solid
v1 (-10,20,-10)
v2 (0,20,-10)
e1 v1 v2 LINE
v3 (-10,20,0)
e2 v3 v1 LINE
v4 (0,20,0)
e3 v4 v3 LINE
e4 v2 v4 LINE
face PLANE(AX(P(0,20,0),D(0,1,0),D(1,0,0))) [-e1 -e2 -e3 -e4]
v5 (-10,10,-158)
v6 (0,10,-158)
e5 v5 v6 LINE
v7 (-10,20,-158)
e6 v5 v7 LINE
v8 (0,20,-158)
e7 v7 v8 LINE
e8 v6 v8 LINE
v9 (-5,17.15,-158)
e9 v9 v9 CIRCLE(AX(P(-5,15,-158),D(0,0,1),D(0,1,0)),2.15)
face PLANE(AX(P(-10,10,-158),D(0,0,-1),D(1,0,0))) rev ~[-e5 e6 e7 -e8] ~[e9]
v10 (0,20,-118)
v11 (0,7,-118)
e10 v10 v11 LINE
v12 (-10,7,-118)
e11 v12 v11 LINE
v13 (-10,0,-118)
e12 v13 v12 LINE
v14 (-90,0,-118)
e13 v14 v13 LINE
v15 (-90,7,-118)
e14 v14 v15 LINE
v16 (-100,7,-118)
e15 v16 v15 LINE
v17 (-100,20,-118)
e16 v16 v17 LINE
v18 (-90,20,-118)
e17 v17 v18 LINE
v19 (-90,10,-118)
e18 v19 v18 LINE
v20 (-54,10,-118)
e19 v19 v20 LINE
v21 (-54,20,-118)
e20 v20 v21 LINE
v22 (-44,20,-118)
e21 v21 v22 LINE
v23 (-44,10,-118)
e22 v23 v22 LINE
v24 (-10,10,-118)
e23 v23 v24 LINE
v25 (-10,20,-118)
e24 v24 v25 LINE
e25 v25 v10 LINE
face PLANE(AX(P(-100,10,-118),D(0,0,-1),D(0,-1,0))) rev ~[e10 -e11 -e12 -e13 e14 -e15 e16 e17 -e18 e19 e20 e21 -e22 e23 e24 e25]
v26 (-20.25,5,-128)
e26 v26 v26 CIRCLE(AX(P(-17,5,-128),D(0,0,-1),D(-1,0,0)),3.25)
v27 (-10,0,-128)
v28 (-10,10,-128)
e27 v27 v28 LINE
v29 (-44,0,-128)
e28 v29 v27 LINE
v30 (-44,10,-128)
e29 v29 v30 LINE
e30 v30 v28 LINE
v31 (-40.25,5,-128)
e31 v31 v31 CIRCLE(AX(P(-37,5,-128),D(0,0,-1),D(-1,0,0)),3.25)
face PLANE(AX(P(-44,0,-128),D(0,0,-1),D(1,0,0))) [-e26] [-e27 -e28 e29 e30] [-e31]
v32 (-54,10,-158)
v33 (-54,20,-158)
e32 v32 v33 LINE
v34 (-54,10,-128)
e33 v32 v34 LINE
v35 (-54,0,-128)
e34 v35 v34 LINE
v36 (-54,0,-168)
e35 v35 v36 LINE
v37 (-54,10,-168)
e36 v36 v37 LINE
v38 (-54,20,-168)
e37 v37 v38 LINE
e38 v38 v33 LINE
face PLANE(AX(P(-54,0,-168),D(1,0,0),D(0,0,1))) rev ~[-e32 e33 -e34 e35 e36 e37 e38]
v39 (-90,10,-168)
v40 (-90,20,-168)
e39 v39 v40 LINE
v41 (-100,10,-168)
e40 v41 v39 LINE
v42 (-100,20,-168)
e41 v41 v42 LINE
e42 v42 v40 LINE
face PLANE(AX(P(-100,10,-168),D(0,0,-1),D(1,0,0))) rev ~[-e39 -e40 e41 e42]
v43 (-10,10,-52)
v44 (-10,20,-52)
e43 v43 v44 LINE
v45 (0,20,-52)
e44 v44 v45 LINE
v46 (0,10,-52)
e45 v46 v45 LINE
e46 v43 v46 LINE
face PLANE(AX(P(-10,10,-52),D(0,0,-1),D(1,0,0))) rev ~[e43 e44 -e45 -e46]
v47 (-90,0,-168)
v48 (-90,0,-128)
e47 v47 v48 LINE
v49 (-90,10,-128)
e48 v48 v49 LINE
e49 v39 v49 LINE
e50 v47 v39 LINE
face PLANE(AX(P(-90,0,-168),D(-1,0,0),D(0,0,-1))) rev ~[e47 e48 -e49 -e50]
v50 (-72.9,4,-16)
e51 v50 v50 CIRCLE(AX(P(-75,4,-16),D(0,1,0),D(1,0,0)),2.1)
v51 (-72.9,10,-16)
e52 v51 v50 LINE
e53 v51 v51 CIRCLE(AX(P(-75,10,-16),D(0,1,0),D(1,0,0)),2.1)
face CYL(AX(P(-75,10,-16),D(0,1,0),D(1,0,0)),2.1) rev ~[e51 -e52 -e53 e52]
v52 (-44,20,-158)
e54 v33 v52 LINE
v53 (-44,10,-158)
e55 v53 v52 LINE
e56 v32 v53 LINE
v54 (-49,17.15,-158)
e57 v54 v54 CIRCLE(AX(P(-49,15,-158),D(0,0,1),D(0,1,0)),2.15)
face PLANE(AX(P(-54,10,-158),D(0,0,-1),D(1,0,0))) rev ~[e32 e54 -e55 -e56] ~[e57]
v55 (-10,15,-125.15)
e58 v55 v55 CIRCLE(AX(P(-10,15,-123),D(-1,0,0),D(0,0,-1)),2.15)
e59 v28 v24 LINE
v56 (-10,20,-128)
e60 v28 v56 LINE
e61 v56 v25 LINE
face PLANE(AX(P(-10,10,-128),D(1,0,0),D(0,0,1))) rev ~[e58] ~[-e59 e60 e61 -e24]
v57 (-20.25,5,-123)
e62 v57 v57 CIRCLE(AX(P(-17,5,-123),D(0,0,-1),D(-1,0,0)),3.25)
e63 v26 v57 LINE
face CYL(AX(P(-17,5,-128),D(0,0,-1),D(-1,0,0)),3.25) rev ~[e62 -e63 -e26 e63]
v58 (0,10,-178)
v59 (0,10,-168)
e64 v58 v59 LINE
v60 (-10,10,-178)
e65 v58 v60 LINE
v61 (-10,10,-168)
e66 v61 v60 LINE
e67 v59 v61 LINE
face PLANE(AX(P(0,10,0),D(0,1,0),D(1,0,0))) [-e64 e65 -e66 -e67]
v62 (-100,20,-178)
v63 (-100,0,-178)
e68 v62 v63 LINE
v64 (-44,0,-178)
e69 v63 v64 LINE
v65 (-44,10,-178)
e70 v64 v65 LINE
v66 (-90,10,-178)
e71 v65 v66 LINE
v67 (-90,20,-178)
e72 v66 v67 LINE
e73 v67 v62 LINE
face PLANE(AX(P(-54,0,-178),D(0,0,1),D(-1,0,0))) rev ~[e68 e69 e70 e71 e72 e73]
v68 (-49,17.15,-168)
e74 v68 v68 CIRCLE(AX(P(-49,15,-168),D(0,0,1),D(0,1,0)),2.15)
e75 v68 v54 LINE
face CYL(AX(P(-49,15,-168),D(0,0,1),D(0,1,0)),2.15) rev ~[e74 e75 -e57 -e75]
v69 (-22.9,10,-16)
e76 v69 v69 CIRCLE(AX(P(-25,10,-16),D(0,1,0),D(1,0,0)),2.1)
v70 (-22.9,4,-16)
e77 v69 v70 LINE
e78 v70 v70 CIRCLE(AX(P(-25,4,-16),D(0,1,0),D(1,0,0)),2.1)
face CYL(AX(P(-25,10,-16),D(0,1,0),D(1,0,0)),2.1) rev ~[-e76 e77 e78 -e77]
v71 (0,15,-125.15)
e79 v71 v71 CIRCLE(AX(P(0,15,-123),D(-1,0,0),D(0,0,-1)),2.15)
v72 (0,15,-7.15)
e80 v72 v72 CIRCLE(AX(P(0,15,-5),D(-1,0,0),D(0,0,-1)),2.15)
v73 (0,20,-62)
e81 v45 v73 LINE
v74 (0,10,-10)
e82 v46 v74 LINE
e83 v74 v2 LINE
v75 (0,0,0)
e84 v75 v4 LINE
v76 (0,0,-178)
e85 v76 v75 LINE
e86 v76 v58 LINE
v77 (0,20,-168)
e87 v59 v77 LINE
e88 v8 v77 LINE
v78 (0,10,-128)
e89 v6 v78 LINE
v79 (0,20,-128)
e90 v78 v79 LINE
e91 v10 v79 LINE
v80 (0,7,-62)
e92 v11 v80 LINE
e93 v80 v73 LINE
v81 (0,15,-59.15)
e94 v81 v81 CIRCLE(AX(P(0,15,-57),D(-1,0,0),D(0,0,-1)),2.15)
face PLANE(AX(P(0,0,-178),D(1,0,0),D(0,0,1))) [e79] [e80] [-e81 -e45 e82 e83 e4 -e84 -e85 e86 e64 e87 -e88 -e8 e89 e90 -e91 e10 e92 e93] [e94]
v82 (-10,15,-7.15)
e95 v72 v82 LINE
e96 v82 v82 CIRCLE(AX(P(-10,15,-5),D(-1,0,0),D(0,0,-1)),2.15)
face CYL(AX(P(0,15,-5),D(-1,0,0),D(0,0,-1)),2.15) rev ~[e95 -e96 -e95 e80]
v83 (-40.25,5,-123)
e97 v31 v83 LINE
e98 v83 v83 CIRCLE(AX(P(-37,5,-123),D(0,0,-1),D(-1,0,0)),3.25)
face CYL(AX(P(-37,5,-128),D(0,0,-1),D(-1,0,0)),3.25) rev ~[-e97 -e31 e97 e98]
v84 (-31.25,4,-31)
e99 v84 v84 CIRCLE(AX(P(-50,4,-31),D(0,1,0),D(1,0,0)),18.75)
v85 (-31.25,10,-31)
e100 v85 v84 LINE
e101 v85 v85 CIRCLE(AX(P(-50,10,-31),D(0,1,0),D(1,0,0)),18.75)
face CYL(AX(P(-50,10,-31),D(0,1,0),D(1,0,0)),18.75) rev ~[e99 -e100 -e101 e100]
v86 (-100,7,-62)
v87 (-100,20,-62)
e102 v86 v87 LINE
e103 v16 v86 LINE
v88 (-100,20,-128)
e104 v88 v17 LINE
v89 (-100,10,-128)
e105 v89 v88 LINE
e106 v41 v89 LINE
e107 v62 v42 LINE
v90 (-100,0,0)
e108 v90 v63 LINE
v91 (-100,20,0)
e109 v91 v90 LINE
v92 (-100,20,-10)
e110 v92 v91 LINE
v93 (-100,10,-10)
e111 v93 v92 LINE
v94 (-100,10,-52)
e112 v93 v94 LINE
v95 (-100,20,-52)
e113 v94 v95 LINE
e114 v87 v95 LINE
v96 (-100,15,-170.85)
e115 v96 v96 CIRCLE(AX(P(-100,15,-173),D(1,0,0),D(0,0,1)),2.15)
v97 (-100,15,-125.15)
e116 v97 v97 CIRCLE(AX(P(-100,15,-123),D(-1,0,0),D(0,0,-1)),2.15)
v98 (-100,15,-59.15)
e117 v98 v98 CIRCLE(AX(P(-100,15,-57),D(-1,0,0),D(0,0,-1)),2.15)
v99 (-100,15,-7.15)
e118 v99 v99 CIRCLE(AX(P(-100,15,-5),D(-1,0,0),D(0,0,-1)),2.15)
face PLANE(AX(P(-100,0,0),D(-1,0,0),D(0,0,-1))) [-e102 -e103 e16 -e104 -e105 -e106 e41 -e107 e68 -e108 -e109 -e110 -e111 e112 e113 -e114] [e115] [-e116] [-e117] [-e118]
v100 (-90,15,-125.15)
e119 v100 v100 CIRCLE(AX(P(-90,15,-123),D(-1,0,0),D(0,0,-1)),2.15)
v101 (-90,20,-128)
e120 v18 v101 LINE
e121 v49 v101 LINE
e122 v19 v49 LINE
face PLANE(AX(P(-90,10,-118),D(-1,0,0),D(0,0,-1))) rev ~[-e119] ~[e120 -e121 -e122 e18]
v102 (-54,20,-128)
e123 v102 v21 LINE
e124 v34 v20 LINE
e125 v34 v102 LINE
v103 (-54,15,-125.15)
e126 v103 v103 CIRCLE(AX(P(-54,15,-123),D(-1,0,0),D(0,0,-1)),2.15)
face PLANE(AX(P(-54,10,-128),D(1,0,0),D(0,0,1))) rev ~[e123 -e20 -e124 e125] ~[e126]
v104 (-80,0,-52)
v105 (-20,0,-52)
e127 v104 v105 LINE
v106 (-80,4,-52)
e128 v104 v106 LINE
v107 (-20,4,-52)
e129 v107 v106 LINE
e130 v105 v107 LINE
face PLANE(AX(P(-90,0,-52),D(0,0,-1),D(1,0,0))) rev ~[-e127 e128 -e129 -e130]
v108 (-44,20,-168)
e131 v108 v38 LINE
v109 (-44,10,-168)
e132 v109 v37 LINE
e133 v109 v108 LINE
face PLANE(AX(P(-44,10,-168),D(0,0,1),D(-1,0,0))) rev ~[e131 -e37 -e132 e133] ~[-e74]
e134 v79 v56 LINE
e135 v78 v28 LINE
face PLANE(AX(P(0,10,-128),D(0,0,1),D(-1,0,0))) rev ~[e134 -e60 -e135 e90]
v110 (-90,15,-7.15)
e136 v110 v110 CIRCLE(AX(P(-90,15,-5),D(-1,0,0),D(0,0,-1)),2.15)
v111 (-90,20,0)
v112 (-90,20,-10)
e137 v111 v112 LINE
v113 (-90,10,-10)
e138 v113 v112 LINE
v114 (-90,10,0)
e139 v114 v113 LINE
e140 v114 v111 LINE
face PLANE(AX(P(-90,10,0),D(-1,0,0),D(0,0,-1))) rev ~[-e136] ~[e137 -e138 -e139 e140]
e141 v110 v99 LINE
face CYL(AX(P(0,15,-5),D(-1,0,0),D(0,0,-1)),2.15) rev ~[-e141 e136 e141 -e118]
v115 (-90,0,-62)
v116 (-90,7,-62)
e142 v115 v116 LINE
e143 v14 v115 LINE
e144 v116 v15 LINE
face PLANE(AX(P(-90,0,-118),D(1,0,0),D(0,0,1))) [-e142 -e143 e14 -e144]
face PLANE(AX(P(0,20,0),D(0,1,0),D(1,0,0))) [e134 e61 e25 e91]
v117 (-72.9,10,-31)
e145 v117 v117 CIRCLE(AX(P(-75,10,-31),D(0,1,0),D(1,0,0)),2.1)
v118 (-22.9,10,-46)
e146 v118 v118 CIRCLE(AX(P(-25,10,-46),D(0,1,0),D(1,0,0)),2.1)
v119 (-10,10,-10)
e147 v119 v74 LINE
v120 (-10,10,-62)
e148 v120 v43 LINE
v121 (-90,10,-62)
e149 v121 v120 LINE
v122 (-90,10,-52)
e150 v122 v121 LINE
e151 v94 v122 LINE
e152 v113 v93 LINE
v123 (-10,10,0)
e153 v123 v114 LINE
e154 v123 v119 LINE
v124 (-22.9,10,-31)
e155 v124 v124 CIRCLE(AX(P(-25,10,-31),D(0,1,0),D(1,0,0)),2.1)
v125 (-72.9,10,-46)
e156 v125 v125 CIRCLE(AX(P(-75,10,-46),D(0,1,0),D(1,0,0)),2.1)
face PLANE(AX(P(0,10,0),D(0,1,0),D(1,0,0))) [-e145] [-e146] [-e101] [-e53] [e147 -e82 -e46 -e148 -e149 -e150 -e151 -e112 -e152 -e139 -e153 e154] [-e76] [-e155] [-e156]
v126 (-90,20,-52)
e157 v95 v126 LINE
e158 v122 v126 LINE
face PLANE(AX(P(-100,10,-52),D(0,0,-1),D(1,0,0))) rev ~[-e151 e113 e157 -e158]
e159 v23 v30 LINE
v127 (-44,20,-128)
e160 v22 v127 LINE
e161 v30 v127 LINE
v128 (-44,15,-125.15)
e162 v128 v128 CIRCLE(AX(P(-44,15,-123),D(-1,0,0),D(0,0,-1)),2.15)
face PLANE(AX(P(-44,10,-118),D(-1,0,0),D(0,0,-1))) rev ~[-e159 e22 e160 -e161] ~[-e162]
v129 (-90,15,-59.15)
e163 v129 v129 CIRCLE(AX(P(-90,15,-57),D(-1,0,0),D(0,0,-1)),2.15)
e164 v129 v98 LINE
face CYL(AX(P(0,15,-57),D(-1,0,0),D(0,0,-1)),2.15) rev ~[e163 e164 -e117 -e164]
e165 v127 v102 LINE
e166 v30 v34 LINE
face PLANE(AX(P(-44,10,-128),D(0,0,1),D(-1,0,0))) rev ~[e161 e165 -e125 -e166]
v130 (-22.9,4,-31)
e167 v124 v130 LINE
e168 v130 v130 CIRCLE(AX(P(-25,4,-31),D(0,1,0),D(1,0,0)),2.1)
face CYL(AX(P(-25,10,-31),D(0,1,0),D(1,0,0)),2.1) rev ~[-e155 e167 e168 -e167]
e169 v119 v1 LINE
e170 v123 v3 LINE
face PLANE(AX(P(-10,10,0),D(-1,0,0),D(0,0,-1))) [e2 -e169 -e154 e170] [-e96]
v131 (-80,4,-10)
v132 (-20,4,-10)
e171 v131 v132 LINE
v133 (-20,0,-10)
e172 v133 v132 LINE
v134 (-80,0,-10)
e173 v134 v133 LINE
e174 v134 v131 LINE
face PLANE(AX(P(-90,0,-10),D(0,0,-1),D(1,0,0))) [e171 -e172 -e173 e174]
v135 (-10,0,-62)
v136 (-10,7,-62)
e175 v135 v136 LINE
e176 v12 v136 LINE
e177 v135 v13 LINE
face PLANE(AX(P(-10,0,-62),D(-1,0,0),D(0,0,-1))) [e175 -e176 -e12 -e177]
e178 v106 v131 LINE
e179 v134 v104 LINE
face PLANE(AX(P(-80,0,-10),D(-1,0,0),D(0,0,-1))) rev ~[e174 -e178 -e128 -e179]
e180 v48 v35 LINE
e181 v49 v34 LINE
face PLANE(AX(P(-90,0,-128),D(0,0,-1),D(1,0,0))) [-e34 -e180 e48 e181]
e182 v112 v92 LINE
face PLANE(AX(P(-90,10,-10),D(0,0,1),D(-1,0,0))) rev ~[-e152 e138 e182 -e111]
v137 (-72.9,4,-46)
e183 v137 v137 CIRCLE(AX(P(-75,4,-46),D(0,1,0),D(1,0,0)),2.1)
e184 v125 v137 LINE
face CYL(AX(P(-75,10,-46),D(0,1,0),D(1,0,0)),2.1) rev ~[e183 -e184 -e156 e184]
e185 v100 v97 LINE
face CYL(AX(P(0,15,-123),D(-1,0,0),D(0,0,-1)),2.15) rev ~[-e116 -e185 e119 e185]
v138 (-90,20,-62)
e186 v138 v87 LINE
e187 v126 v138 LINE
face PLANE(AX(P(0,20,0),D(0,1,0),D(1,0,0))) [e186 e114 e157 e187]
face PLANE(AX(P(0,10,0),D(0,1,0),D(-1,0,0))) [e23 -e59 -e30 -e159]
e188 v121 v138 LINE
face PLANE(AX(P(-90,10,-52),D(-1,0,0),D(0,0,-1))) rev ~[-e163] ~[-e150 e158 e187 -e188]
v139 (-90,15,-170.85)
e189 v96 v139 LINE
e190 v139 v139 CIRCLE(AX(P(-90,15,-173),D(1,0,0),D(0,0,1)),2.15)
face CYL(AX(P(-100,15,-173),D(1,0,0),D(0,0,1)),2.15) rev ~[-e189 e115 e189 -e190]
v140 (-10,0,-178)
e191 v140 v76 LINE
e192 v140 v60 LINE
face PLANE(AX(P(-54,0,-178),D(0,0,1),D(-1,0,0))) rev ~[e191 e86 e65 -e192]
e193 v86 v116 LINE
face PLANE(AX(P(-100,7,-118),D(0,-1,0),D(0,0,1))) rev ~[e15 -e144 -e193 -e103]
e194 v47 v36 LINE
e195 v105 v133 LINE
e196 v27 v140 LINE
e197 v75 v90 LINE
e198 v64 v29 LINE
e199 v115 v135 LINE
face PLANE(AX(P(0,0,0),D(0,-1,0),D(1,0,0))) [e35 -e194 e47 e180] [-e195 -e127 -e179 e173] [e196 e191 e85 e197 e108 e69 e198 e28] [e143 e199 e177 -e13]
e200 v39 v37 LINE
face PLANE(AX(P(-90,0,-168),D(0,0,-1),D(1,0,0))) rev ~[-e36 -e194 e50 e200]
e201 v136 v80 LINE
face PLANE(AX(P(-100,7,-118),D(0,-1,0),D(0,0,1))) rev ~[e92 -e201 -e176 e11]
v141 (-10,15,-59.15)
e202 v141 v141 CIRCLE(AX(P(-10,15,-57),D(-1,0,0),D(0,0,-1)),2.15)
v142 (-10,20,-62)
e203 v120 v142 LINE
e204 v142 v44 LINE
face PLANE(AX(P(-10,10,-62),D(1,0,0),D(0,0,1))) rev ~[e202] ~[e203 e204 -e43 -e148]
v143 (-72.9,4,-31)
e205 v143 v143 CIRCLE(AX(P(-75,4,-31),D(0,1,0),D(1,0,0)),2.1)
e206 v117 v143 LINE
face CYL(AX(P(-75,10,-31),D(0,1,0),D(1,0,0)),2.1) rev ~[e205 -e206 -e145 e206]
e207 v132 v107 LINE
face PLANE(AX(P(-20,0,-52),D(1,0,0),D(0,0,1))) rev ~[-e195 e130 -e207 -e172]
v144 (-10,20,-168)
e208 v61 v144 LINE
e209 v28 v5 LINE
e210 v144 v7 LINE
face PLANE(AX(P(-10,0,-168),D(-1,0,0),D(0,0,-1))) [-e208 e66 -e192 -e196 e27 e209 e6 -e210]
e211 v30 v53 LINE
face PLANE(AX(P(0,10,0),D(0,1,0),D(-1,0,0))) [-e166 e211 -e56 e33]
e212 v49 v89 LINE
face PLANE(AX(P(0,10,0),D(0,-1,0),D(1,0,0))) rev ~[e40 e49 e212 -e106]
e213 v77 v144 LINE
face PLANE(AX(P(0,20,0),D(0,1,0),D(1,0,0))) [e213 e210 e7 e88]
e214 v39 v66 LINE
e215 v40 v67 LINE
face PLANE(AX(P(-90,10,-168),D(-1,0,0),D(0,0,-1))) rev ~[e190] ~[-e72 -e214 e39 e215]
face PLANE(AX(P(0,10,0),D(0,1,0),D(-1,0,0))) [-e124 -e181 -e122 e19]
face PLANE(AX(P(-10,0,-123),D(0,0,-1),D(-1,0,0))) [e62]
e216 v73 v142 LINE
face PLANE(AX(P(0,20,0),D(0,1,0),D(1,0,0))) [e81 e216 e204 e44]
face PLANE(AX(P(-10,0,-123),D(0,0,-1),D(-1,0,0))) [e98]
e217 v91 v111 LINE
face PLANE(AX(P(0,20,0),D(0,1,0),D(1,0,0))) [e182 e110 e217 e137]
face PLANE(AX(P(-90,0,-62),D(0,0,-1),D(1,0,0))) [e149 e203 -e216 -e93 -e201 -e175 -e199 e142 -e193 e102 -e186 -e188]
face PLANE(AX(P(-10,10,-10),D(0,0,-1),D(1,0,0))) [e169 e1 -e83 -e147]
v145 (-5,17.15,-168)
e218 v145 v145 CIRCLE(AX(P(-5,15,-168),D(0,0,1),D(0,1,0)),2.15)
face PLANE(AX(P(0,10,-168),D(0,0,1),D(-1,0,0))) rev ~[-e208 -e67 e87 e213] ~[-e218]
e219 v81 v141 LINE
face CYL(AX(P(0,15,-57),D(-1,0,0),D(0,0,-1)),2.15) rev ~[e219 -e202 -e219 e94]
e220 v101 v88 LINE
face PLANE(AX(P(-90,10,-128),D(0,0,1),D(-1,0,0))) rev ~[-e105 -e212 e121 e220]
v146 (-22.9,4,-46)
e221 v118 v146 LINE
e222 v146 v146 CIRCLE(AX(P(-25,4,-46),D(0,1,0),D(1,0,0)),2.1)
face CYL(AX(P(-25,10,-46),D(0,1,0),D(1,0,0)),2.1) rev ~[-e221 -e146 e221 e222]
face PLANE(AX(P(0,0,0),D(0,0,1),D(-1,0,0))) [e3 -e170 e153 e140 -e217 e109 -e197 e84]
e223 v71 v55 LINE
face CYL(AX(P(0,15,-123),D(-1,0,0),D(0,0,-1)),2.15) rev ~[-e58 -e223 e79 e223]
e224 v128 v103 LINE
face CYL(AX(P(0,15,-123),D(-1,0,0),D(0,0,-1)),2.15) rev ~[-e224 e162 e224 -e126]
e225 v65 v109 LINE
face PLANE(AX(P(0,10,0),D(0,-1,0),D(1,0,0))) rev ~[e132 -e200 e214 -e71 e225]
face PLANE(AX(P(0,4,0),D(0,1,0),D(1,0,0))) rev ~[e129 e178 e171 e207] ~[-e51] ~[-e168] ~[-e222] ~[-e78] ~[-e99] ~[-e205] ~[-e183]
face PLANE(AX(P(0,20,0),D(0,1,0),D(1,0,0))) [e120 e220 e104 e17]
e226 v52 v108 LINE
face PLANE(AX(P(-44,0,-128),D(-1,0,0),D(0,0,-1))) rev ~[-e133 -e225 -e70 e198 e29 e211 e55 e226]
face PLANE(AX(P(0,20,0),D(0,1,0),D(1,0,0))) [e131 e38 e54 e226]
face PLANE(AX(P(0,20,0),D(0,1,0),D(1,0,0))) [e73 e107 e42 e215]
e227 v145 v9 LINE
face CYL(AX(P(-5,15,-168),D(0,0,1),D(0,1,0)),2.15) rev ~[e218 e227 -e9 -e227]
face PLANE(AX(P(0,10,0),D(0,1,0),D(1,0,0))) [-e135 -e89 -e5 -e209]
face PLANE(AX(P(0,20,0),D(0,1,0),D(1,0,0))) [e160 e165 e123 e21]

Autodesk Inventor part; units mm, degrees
ref_plane "YZ Plane" through (0, 0, 0) normal (1, 0, 0) x (0, 1, 0)
ref_plane "XZ Plane" through (0, 0, 0) normal (0, 1, 0) x (-1, 0, 0)
ref_plane "XY Plane" through (0, 0, 0) normal (0, 0, 1) x (1, 0, 0)
sketch "Sketch1" plane through (0, 0, 0) normal (0, 1, 0) x (-1, 0, 0)
  line L0 (0, 0) -> (100, 0)
  line L1 (100, 0) -> (100, -178)
  line L2 (0, -178) -> (0, 0)
  line L3 (90, -10) -> (10, -10)
  line L4 (90, -52) -> (10, -52)
  line L5 (90, -62) -> (10, -62)
  line L6 (90, -52) -> (90, -10)
  line L7 (10, -10) -> (10, -52)
  line L8 (90, -118) -> (10, -118)
  line L9 (90, -168) -> (90, -128)
  line L10 (90, -118) -> (90, -62)
  line L11 (10, -62) -> (10, -118)
  line L12 (10, -128) -> (10, -168)
  line L13 (100, -178) -> (90, -178)
  line L14 (10, -178) -> (0, -178)
  line L15 (90, -168) -> (90, -178)
  line L16 (10, -168) -> (44, -168)
  line L17 (54, -168) -> (54, -178)
  line L18 (54, -178) -> (10, -178)
  line L19 (54, -168) -> (54, -128)
  line L20 (44, -128) -> (44, -168)
  line L21 (90, -128) -> (54, -128)
  line L22 (44, -128) -> (10, -128)
  dimension "thickness" = 10
  dimension "d3" = 10
  dimension "d4" = 10
  dimension "d8" = 10
  dimension "motor" = 42
  dimension "d10" = 10
  dimension "d11" = 10
  dimension "d27" = 10
  dimension "batterywidth" = 56
  dimension "d31" = 80
  dimension "suspensionWidth" = 40
  dimension "d33" = 10
  dimension "d34" = 10
  dimension "d36" = 10
  dimension "d38" = 10
  dimension "d39" = 40
  dimension "d40" = 40
  dimension "d41" = 34
  dimension "d215" = 36
extrude "Extrusion2" add sketch "Sketch1" along normal blind 10
sketch "Sketch2" plane through (0, 10, 0) normal (0, 1, 0) x (1, 0, 0)
  line L0 (-100, 0) -> (-90, 0)
  line L1 (-90, 0) -> (-90, 10)
  line L2 (-90, 10) -> (-100, 10)
  line L3 (-100, 10) -> (-100, 0)
  line L4 (-10, 52) -> (-10, 10) projected
  line L5 (0, 0) -> (-10, 0)
  line L6 (-10, 0) -> (-10, 10)
  line L7 (-10, 10) -> (0, 10)
  line L8 (0, 10) -> (0, 0)
  line L9 (-100, 178) -> (-100, 0) projected
  line L10 (-100, 0) -> (0, 0) projected
  line L11 (-100, 52) -> (-90, 52)
  line L12 (-90, 52) -> (-90, 62)
  line L13 (-90, 62) -> (-100, 62)
  line L14 (-100, 62) -> (-100, 52)
  line L15 (-90, 52) -> (-10, 52) projected
  line L16 (-10, 52) -> (0, 52)
  line L17 (0, 52) -> (0, 62)
  line L18 (0, 62) -> (-10, 62)
  line L19 (-10, 62) -> (-10, 52)
  line L20 (-90, 10) -> (-90, 52) projected
  line L21 (-100, 118) -> (-90, 118)
  line L22 (-90, 118) -> (-90, 128)
  line L23 (-90, 128) -> (-100, 128)
  line L24 (-100, 128) -> (-100, 118)
  line L25 (-54, 128) -> (-90, 128) projected
  line L26 (-54, 118) -> (-44, 118)
  line L27 (-44, 118) -> (-44, 128)
  line L28 (-44, 128) -> (-54, 128)
  line L29 (-54, 128) -> (-54, 118)
  line L30 (-90, 118) -> (-10, 118) projected
  line L31 (0, 178) -> (-54, 178) projected
  line L32 (-10, 168) -> (0, 168)
  line L33 (0, 168) -> (0, 178)
  line L34 (0, 178) -> (-10, 178)
  line L35 (-10, 178) -> (-10, 168)
  line L36 (0, 0) -> (0, 178) projected
  line L37 (-10, 118) -> (0, 118)
  line L38 (0, 118) -> (0, 128)
  line L39 (0, 128) -> (-10, 128)
  line L40 (-10, 128) -> (-10, 118)
  line L41 (-10, 128) -> (-44, 128) projected
  line L42 (-54, 158) -> (-44, 158)
  line L43 (-44, 158) -> (-44, 168)
  line L44 (-44, 168) -> (-54, 168)
  line L45 (-54, 168) -> (-54, 158)
  line L46 (-44, 168) -> (-10, 168) projected
  line L47 (-44, 128) -> (-44, 168) projected
  line L48 (-100, 158) -> (-90, 158)
  line L49 (-90, 158) -> (-90, 168)
  line L50 (-90, 168) -> (-100, 168)
  line L51 (-100, 168) -> (-100, 158)
  line L52 (-90, 128) -> (-90, 178) projected
  dimension "d34" = 10
  dimension "d44" = 10
  dimension "d45" = 10
  dimension "d47" = 10
  dimension "d50" = 10
  dimension "d51" = 10
  dimension "d52" = 10
  dimension "d53" = 10
  dimension "d58" = 10
  dimension "d64" = 10
  dimension "d65" = 10
  dimension "d148" = 10
  dimension "d149" = 10
  dimension "d150" = 10
  dimension "d151" = 10
extrude "Extrusion3" add sketch "Sketch2" along normal blind 10 contours L3 L2 L1 L0 | L6 L7 L8 L5 | L9 L13 L12 L11 | L19 L18 L17 L16 | L9 L23 L22 L21 | L9 L50 L49 L48 | L29 L28 L27 L26 | L37 L40 L39 L36 | L32 L35 L31 L33 | L42 L45 L44 L43
sketch "Sketch6" plane through (0, 0, 0) normal (0, -1, 0) x (1, 0, 0)
  line L0 (-90, -10) -> (-80, -10)
  line L1 (-80, -10) -> (-80, -52)
  line L2 (-80, -52) -> (-90, -52)
  line L3 (-90, -52) -> (-90, -10)
  line L4 (-90, -52) -> (-90, -10) projected
  line L5 (-90, -10) -> (-10, -10) projected
  line L6 (-10, -52) -> (-90, -52) projected
  line L7 (-20, -10) -> (-10, -10)
  line L8 (-10, -10) -> (-10, -52)
  line L9 (-10, -52) -> (-20, -52)
  line L10 (-20, -52) -> (-20, -10)
  line L11 (-10, -10) -> (-10, -52) projected
  point P0 (0, 0)
  dimension "motorFixtureHeight" = 60
  dimension "d72" = 10
extrude "Extrusion5" add sketch "Sketch6" against normal blind 10 contours L0 L1 L2 L3 | L5 L8 L6 L10
sketch "Sketch7" plane through (0, 10, 0) normal (0, 1, 0) x (1, 0, 0)
  line L0 (-80, 10) -> (-20, 10)
  line L1 (-20, 10) -> (-20, 52)
  line L2 (-20, 52) -> (-80, 52)
  line L3 (-80, 52) -> (-80, 10)
  line L4 (-80, 10) -> (-80, 52) projected
  line L5 (-80, 52) -> (-20, 52) projected
  line L6 (-20, 52) -> (-20, 10) projected
  line L7 (-20, 10) -> (-80, 10) projected
  circle A0 centre (-50, 31) radius 18.75
  circle A1 centre (-75, 16) radius 2.1
  circle A2 centre (-25, 31) radius 2.1
  circle A3 centre (-75, 46) radius 2.1
  circle A4 centre (-25, 16) radius 2.1
  circle A5 centre (-25, 46) radius 2.1
  circle A6 centre (-75, 31) radius 2.1
  point P0 (0, 0)
  dimension "d75" = 37.5
  dimension "d77" = 21
  dimension "d78" = 30
  dimension "d79" = 4.2
  dimension "d80" = 4.2
  dimension "d82" = 4.2
  dimension "d83" = 4.2
  dimension "d84" = 4.2
  dimension "d85" = 4.2
  dimension "d86" = 25
  dimension "d87" = 0
  dimension "d88" = 25
  dimension "d89" = 15
  dimension "d90" = 25
  dimension "d91" = 15
  dimension "d92" = 15
  dimension "d93" = 25
  dimension "d94" = 25
  dimension "d95" = 0
  dimension "d96" = 25
  dimension "d97" = 15
extrude "Extrusion6" add sketch "Sketch7" against normal blind 6
hole "Hole2" at (0, 15, -173) direction (-1, 0, 0) diameter 4.3 end through all
hole "Hole3" at (0, 15, -123) direction (-1, 0, 0) diameter 4.3 end through all
hole "Hole4" at (0, 15, -57) direction (-1, 0, 0) diameter 4.3 end through all
hole "Hole5" at (0, 15, -5) direction (-1, 0, 0) diameter 4.3 end through all
sketch "Sketch8" plane through (-100, 0, -178) normal (-1, 0, 0) x (0, 0, 1)
  line L0 (116, 10) -> (60, 10)
  line L1 (60, 10) -> (60, 7)
  line L2 (60, 7) -> (116, 7)
  line L3 (116, 7) -> (116, 10)
  line L4 (116, 10) -> (60, 7) construction
  line L5 (60, 10) -> (116, 7) construction
  line L6 (60, 10) -> (116, 10) projected
  line L7 (60, 10) -> (60, 20) projected
  line L8 (116, 10) -> (116, 20) projected
  point P0 (178, 0)
  point P1 (88, 8.5)
  dimension "d145" = 3
extrude "Extrusion7" cut sketch "Sketch8" against normal up to surface (100 mm away)
hole "Hole6" at (-95, 15, -168) direction (0, 0, 1) diameter 4.3 depth 10 tip angle 118
hole "Hole7" at (-49, 15, -168) direction (0, 0, 1) diameter 4.3 depth 10 tip angle 118
sketch "Sketch10" plane through (0, 0, 0) normal (0, -1, 0) x (1, 0, 0)
  line L0 (-90, -168) -> (-54, -168)
  line L1 (-54, -168) -> (-54, -178)
  line L2 (-54, -178) -> (-90, -178)
  line L3 (-90, -178) -> (-90, -168)
  line L4 (-54, -128) -> (-54, -178) projected
  line L5 (-90, -178) -> (-90, -128) projected
  line L6 (-10, -168) -> (-44, -168) projected
  line L7 (-54, -178) -> (0, -178) projected
  point P0 (0, 0)
extrude "Extrusion9" add sketch "Sketch10" against normal blind 10
sketch "Sketch11" plane through (0, 0, 0) normal (0, -1, 0) x (1, 0, 0)
  line L0 (-44, -168) -> (-10, -168)
  line L1 (-10, -168) -> (-10, -178)
  line L2 (-10, -178) -> (-44, -178)
  line L3 (-44, -178) -> (-44, -168)
  line L4 (-10, -168) -> (-44, -168) projected
  line L5 (-100, -178) -> (0, -178) projected
  line L6 (-44, -168) -> (-44, -128) projected
  line L7 (-10, -128) -> (-10, -168) projected
  point P0 (0, 0)
extrude "Extrusion10" cut sketch "Sketch11" against normal blind 10
sketch "Sketch12" plane through (-10, 0, -128) normal (0, 0, -1) x (-1, 0, 0)
  circle A0 centre (27, 5) radius 3.25
  circle A1 centre (7, 5) radius 3.25
  line L0 (34, 0) -> (0, 0) projected
  line L1 (34, 10) -> (34, 0) projected
  line L2 (0, 0) -> (0, 20) projected
  point P0 (-10, 0)
  dimension "d182" = 6.5
  dimension "d183" = 6.5
  dimension "d184" = 5
  dimension "d185" = 7
  dimension "d186" = 7
  dimension "d187" = 5
extrude "Extrusion11" cut sketch "Sketch12" against normal blind 5
sketch "Sketch13" plane through (0, 20, 0) normal (0, 1, 0) x (1, 0, 0)
  line L0 (-100, 158) -> (-90, 158)
  line L1 (-90, 158) -> (-90, 168)
  line L2 (-90, 168) -> (-100, 168)
  line L3 (-100, 168) -> (-100, 158)
  line L4 (-90, 168) -> (-100, 168) projected
  line L5 (-90, 158) -> (-90, 168) projected
  line L6 (-100, 168) -> (-100, 158) projected
  line L7 (-100, 158) -> (-90, 158) projected
  line L8 (-10, 168) -> (0, 168)
  line L9 (0, 168) -> (0, 178)
  line L10 (0, 178) -> (-10, 178)
  line L11 (-10, 178) -> (-10, 168)
  line L12 (-10, 178) -> (-10, 168) projected
  line L13 (0, 178) -> (-10, 178) projected
  line L14 (0, 168) -> (0, 178) projected
  line L15 (-10, 168) -> (0, 168) projected
  point P0 (0, 0)
extrude "Extrusion12" cut sketch "Sketch13" against normal blind 10
sketch "Sketch14" plane through (0, 10, 0) normal (0, 1, 0) x (1, 0, 0)
  line L0 (-10, 158) -> (0, 158)
  line L1 (0, 158) -> (0, 168)
  line L2 (0, 168) -> (-10, 168)
  line L3 (-10, 168) -> (-10, 158)
  line L4 (-10, 178) -> (0, 178) projected
  line L5 (-10, 128) -> (-10, 178) projected
  line L6 (-90, 168) -> (-54, 168) projected
  line L7 (0, 128) -> (0, 178) projected
  line L8 (-100, 168) -> (-90, 168)
  line L9 (-90, 168) -> (-90, 178)
  line L10 (-90, 178) -> (-100, 178)
  line L11 (-100, 178) -> (-100, 168)
  line L12 (-44, 178) -> (-100, 178) projected
  line L13 (-100, 178) -> (-100, 128) projected
  line L14 (-90, 128) -> (-90, 168) projected
  line L15 (-54, 158) -> (-44, 158) projected
  point P0 (0, 0)
  dimension "d192" = 10
  dimension "d193" = 10
  dimension "d194" = 10
extrude "Extrusion13" add sketch "Sketch14" along normal blind 10 contours L3 L2 L1 L0 | L11 L10 L9 L8
hole "Hole8" at (-5, 15, -168) direction (0, 0, 1) diameter 4.3 depth 10 tip angle 118
hole "Hole9" at (-100, 15, -173) direction (1, 0, 0) diameter 4.3 depth 10 tip angle 118
equation "\"d3\" = thickness"
equation "\"d4\" = thickness"
equation "\"d8\" = thickness"
equation "\"d10\" = thickness"
equation "\"d11\" = thickness"
equation "\"d27\" = thickness"
equation "\"d33\" = thickness"
equation "\"d34\" = thickness"
equation "\"d36\" = thickness"
equation "\"d38\" = thickness"
equation "\"d39\" = suspensionWidth"
equation "\"d40\" = suspensionWidth"
equation "\"d42\" = thickness"
equation "\"d44\" = thickness"
equation "\"d50\" = thickness"
equation "\"d51\" = thickness"
equation "\"d52\" = thickness"
equation "\"d53\" = thickness"
equation "\"d58\" = thickness"
equation "\"d64\" = thickness"
equation "\"d65\" = thickness"
equation "\"d148\" = thickness"
equation "\"d149\" = thickness"
equation "\"d150\" = thickness"
equation "\"d151\" = thickness"
equation "\"d66\" = thickness"
equation "\"d73\" = thickness"
equation "\"d77\" = 0.5 * motor"
equation "\"d159\" = thickness"
equation "\"d168\" = thickness"
properties part number "sideFrame2" material "ABS Plastic"
